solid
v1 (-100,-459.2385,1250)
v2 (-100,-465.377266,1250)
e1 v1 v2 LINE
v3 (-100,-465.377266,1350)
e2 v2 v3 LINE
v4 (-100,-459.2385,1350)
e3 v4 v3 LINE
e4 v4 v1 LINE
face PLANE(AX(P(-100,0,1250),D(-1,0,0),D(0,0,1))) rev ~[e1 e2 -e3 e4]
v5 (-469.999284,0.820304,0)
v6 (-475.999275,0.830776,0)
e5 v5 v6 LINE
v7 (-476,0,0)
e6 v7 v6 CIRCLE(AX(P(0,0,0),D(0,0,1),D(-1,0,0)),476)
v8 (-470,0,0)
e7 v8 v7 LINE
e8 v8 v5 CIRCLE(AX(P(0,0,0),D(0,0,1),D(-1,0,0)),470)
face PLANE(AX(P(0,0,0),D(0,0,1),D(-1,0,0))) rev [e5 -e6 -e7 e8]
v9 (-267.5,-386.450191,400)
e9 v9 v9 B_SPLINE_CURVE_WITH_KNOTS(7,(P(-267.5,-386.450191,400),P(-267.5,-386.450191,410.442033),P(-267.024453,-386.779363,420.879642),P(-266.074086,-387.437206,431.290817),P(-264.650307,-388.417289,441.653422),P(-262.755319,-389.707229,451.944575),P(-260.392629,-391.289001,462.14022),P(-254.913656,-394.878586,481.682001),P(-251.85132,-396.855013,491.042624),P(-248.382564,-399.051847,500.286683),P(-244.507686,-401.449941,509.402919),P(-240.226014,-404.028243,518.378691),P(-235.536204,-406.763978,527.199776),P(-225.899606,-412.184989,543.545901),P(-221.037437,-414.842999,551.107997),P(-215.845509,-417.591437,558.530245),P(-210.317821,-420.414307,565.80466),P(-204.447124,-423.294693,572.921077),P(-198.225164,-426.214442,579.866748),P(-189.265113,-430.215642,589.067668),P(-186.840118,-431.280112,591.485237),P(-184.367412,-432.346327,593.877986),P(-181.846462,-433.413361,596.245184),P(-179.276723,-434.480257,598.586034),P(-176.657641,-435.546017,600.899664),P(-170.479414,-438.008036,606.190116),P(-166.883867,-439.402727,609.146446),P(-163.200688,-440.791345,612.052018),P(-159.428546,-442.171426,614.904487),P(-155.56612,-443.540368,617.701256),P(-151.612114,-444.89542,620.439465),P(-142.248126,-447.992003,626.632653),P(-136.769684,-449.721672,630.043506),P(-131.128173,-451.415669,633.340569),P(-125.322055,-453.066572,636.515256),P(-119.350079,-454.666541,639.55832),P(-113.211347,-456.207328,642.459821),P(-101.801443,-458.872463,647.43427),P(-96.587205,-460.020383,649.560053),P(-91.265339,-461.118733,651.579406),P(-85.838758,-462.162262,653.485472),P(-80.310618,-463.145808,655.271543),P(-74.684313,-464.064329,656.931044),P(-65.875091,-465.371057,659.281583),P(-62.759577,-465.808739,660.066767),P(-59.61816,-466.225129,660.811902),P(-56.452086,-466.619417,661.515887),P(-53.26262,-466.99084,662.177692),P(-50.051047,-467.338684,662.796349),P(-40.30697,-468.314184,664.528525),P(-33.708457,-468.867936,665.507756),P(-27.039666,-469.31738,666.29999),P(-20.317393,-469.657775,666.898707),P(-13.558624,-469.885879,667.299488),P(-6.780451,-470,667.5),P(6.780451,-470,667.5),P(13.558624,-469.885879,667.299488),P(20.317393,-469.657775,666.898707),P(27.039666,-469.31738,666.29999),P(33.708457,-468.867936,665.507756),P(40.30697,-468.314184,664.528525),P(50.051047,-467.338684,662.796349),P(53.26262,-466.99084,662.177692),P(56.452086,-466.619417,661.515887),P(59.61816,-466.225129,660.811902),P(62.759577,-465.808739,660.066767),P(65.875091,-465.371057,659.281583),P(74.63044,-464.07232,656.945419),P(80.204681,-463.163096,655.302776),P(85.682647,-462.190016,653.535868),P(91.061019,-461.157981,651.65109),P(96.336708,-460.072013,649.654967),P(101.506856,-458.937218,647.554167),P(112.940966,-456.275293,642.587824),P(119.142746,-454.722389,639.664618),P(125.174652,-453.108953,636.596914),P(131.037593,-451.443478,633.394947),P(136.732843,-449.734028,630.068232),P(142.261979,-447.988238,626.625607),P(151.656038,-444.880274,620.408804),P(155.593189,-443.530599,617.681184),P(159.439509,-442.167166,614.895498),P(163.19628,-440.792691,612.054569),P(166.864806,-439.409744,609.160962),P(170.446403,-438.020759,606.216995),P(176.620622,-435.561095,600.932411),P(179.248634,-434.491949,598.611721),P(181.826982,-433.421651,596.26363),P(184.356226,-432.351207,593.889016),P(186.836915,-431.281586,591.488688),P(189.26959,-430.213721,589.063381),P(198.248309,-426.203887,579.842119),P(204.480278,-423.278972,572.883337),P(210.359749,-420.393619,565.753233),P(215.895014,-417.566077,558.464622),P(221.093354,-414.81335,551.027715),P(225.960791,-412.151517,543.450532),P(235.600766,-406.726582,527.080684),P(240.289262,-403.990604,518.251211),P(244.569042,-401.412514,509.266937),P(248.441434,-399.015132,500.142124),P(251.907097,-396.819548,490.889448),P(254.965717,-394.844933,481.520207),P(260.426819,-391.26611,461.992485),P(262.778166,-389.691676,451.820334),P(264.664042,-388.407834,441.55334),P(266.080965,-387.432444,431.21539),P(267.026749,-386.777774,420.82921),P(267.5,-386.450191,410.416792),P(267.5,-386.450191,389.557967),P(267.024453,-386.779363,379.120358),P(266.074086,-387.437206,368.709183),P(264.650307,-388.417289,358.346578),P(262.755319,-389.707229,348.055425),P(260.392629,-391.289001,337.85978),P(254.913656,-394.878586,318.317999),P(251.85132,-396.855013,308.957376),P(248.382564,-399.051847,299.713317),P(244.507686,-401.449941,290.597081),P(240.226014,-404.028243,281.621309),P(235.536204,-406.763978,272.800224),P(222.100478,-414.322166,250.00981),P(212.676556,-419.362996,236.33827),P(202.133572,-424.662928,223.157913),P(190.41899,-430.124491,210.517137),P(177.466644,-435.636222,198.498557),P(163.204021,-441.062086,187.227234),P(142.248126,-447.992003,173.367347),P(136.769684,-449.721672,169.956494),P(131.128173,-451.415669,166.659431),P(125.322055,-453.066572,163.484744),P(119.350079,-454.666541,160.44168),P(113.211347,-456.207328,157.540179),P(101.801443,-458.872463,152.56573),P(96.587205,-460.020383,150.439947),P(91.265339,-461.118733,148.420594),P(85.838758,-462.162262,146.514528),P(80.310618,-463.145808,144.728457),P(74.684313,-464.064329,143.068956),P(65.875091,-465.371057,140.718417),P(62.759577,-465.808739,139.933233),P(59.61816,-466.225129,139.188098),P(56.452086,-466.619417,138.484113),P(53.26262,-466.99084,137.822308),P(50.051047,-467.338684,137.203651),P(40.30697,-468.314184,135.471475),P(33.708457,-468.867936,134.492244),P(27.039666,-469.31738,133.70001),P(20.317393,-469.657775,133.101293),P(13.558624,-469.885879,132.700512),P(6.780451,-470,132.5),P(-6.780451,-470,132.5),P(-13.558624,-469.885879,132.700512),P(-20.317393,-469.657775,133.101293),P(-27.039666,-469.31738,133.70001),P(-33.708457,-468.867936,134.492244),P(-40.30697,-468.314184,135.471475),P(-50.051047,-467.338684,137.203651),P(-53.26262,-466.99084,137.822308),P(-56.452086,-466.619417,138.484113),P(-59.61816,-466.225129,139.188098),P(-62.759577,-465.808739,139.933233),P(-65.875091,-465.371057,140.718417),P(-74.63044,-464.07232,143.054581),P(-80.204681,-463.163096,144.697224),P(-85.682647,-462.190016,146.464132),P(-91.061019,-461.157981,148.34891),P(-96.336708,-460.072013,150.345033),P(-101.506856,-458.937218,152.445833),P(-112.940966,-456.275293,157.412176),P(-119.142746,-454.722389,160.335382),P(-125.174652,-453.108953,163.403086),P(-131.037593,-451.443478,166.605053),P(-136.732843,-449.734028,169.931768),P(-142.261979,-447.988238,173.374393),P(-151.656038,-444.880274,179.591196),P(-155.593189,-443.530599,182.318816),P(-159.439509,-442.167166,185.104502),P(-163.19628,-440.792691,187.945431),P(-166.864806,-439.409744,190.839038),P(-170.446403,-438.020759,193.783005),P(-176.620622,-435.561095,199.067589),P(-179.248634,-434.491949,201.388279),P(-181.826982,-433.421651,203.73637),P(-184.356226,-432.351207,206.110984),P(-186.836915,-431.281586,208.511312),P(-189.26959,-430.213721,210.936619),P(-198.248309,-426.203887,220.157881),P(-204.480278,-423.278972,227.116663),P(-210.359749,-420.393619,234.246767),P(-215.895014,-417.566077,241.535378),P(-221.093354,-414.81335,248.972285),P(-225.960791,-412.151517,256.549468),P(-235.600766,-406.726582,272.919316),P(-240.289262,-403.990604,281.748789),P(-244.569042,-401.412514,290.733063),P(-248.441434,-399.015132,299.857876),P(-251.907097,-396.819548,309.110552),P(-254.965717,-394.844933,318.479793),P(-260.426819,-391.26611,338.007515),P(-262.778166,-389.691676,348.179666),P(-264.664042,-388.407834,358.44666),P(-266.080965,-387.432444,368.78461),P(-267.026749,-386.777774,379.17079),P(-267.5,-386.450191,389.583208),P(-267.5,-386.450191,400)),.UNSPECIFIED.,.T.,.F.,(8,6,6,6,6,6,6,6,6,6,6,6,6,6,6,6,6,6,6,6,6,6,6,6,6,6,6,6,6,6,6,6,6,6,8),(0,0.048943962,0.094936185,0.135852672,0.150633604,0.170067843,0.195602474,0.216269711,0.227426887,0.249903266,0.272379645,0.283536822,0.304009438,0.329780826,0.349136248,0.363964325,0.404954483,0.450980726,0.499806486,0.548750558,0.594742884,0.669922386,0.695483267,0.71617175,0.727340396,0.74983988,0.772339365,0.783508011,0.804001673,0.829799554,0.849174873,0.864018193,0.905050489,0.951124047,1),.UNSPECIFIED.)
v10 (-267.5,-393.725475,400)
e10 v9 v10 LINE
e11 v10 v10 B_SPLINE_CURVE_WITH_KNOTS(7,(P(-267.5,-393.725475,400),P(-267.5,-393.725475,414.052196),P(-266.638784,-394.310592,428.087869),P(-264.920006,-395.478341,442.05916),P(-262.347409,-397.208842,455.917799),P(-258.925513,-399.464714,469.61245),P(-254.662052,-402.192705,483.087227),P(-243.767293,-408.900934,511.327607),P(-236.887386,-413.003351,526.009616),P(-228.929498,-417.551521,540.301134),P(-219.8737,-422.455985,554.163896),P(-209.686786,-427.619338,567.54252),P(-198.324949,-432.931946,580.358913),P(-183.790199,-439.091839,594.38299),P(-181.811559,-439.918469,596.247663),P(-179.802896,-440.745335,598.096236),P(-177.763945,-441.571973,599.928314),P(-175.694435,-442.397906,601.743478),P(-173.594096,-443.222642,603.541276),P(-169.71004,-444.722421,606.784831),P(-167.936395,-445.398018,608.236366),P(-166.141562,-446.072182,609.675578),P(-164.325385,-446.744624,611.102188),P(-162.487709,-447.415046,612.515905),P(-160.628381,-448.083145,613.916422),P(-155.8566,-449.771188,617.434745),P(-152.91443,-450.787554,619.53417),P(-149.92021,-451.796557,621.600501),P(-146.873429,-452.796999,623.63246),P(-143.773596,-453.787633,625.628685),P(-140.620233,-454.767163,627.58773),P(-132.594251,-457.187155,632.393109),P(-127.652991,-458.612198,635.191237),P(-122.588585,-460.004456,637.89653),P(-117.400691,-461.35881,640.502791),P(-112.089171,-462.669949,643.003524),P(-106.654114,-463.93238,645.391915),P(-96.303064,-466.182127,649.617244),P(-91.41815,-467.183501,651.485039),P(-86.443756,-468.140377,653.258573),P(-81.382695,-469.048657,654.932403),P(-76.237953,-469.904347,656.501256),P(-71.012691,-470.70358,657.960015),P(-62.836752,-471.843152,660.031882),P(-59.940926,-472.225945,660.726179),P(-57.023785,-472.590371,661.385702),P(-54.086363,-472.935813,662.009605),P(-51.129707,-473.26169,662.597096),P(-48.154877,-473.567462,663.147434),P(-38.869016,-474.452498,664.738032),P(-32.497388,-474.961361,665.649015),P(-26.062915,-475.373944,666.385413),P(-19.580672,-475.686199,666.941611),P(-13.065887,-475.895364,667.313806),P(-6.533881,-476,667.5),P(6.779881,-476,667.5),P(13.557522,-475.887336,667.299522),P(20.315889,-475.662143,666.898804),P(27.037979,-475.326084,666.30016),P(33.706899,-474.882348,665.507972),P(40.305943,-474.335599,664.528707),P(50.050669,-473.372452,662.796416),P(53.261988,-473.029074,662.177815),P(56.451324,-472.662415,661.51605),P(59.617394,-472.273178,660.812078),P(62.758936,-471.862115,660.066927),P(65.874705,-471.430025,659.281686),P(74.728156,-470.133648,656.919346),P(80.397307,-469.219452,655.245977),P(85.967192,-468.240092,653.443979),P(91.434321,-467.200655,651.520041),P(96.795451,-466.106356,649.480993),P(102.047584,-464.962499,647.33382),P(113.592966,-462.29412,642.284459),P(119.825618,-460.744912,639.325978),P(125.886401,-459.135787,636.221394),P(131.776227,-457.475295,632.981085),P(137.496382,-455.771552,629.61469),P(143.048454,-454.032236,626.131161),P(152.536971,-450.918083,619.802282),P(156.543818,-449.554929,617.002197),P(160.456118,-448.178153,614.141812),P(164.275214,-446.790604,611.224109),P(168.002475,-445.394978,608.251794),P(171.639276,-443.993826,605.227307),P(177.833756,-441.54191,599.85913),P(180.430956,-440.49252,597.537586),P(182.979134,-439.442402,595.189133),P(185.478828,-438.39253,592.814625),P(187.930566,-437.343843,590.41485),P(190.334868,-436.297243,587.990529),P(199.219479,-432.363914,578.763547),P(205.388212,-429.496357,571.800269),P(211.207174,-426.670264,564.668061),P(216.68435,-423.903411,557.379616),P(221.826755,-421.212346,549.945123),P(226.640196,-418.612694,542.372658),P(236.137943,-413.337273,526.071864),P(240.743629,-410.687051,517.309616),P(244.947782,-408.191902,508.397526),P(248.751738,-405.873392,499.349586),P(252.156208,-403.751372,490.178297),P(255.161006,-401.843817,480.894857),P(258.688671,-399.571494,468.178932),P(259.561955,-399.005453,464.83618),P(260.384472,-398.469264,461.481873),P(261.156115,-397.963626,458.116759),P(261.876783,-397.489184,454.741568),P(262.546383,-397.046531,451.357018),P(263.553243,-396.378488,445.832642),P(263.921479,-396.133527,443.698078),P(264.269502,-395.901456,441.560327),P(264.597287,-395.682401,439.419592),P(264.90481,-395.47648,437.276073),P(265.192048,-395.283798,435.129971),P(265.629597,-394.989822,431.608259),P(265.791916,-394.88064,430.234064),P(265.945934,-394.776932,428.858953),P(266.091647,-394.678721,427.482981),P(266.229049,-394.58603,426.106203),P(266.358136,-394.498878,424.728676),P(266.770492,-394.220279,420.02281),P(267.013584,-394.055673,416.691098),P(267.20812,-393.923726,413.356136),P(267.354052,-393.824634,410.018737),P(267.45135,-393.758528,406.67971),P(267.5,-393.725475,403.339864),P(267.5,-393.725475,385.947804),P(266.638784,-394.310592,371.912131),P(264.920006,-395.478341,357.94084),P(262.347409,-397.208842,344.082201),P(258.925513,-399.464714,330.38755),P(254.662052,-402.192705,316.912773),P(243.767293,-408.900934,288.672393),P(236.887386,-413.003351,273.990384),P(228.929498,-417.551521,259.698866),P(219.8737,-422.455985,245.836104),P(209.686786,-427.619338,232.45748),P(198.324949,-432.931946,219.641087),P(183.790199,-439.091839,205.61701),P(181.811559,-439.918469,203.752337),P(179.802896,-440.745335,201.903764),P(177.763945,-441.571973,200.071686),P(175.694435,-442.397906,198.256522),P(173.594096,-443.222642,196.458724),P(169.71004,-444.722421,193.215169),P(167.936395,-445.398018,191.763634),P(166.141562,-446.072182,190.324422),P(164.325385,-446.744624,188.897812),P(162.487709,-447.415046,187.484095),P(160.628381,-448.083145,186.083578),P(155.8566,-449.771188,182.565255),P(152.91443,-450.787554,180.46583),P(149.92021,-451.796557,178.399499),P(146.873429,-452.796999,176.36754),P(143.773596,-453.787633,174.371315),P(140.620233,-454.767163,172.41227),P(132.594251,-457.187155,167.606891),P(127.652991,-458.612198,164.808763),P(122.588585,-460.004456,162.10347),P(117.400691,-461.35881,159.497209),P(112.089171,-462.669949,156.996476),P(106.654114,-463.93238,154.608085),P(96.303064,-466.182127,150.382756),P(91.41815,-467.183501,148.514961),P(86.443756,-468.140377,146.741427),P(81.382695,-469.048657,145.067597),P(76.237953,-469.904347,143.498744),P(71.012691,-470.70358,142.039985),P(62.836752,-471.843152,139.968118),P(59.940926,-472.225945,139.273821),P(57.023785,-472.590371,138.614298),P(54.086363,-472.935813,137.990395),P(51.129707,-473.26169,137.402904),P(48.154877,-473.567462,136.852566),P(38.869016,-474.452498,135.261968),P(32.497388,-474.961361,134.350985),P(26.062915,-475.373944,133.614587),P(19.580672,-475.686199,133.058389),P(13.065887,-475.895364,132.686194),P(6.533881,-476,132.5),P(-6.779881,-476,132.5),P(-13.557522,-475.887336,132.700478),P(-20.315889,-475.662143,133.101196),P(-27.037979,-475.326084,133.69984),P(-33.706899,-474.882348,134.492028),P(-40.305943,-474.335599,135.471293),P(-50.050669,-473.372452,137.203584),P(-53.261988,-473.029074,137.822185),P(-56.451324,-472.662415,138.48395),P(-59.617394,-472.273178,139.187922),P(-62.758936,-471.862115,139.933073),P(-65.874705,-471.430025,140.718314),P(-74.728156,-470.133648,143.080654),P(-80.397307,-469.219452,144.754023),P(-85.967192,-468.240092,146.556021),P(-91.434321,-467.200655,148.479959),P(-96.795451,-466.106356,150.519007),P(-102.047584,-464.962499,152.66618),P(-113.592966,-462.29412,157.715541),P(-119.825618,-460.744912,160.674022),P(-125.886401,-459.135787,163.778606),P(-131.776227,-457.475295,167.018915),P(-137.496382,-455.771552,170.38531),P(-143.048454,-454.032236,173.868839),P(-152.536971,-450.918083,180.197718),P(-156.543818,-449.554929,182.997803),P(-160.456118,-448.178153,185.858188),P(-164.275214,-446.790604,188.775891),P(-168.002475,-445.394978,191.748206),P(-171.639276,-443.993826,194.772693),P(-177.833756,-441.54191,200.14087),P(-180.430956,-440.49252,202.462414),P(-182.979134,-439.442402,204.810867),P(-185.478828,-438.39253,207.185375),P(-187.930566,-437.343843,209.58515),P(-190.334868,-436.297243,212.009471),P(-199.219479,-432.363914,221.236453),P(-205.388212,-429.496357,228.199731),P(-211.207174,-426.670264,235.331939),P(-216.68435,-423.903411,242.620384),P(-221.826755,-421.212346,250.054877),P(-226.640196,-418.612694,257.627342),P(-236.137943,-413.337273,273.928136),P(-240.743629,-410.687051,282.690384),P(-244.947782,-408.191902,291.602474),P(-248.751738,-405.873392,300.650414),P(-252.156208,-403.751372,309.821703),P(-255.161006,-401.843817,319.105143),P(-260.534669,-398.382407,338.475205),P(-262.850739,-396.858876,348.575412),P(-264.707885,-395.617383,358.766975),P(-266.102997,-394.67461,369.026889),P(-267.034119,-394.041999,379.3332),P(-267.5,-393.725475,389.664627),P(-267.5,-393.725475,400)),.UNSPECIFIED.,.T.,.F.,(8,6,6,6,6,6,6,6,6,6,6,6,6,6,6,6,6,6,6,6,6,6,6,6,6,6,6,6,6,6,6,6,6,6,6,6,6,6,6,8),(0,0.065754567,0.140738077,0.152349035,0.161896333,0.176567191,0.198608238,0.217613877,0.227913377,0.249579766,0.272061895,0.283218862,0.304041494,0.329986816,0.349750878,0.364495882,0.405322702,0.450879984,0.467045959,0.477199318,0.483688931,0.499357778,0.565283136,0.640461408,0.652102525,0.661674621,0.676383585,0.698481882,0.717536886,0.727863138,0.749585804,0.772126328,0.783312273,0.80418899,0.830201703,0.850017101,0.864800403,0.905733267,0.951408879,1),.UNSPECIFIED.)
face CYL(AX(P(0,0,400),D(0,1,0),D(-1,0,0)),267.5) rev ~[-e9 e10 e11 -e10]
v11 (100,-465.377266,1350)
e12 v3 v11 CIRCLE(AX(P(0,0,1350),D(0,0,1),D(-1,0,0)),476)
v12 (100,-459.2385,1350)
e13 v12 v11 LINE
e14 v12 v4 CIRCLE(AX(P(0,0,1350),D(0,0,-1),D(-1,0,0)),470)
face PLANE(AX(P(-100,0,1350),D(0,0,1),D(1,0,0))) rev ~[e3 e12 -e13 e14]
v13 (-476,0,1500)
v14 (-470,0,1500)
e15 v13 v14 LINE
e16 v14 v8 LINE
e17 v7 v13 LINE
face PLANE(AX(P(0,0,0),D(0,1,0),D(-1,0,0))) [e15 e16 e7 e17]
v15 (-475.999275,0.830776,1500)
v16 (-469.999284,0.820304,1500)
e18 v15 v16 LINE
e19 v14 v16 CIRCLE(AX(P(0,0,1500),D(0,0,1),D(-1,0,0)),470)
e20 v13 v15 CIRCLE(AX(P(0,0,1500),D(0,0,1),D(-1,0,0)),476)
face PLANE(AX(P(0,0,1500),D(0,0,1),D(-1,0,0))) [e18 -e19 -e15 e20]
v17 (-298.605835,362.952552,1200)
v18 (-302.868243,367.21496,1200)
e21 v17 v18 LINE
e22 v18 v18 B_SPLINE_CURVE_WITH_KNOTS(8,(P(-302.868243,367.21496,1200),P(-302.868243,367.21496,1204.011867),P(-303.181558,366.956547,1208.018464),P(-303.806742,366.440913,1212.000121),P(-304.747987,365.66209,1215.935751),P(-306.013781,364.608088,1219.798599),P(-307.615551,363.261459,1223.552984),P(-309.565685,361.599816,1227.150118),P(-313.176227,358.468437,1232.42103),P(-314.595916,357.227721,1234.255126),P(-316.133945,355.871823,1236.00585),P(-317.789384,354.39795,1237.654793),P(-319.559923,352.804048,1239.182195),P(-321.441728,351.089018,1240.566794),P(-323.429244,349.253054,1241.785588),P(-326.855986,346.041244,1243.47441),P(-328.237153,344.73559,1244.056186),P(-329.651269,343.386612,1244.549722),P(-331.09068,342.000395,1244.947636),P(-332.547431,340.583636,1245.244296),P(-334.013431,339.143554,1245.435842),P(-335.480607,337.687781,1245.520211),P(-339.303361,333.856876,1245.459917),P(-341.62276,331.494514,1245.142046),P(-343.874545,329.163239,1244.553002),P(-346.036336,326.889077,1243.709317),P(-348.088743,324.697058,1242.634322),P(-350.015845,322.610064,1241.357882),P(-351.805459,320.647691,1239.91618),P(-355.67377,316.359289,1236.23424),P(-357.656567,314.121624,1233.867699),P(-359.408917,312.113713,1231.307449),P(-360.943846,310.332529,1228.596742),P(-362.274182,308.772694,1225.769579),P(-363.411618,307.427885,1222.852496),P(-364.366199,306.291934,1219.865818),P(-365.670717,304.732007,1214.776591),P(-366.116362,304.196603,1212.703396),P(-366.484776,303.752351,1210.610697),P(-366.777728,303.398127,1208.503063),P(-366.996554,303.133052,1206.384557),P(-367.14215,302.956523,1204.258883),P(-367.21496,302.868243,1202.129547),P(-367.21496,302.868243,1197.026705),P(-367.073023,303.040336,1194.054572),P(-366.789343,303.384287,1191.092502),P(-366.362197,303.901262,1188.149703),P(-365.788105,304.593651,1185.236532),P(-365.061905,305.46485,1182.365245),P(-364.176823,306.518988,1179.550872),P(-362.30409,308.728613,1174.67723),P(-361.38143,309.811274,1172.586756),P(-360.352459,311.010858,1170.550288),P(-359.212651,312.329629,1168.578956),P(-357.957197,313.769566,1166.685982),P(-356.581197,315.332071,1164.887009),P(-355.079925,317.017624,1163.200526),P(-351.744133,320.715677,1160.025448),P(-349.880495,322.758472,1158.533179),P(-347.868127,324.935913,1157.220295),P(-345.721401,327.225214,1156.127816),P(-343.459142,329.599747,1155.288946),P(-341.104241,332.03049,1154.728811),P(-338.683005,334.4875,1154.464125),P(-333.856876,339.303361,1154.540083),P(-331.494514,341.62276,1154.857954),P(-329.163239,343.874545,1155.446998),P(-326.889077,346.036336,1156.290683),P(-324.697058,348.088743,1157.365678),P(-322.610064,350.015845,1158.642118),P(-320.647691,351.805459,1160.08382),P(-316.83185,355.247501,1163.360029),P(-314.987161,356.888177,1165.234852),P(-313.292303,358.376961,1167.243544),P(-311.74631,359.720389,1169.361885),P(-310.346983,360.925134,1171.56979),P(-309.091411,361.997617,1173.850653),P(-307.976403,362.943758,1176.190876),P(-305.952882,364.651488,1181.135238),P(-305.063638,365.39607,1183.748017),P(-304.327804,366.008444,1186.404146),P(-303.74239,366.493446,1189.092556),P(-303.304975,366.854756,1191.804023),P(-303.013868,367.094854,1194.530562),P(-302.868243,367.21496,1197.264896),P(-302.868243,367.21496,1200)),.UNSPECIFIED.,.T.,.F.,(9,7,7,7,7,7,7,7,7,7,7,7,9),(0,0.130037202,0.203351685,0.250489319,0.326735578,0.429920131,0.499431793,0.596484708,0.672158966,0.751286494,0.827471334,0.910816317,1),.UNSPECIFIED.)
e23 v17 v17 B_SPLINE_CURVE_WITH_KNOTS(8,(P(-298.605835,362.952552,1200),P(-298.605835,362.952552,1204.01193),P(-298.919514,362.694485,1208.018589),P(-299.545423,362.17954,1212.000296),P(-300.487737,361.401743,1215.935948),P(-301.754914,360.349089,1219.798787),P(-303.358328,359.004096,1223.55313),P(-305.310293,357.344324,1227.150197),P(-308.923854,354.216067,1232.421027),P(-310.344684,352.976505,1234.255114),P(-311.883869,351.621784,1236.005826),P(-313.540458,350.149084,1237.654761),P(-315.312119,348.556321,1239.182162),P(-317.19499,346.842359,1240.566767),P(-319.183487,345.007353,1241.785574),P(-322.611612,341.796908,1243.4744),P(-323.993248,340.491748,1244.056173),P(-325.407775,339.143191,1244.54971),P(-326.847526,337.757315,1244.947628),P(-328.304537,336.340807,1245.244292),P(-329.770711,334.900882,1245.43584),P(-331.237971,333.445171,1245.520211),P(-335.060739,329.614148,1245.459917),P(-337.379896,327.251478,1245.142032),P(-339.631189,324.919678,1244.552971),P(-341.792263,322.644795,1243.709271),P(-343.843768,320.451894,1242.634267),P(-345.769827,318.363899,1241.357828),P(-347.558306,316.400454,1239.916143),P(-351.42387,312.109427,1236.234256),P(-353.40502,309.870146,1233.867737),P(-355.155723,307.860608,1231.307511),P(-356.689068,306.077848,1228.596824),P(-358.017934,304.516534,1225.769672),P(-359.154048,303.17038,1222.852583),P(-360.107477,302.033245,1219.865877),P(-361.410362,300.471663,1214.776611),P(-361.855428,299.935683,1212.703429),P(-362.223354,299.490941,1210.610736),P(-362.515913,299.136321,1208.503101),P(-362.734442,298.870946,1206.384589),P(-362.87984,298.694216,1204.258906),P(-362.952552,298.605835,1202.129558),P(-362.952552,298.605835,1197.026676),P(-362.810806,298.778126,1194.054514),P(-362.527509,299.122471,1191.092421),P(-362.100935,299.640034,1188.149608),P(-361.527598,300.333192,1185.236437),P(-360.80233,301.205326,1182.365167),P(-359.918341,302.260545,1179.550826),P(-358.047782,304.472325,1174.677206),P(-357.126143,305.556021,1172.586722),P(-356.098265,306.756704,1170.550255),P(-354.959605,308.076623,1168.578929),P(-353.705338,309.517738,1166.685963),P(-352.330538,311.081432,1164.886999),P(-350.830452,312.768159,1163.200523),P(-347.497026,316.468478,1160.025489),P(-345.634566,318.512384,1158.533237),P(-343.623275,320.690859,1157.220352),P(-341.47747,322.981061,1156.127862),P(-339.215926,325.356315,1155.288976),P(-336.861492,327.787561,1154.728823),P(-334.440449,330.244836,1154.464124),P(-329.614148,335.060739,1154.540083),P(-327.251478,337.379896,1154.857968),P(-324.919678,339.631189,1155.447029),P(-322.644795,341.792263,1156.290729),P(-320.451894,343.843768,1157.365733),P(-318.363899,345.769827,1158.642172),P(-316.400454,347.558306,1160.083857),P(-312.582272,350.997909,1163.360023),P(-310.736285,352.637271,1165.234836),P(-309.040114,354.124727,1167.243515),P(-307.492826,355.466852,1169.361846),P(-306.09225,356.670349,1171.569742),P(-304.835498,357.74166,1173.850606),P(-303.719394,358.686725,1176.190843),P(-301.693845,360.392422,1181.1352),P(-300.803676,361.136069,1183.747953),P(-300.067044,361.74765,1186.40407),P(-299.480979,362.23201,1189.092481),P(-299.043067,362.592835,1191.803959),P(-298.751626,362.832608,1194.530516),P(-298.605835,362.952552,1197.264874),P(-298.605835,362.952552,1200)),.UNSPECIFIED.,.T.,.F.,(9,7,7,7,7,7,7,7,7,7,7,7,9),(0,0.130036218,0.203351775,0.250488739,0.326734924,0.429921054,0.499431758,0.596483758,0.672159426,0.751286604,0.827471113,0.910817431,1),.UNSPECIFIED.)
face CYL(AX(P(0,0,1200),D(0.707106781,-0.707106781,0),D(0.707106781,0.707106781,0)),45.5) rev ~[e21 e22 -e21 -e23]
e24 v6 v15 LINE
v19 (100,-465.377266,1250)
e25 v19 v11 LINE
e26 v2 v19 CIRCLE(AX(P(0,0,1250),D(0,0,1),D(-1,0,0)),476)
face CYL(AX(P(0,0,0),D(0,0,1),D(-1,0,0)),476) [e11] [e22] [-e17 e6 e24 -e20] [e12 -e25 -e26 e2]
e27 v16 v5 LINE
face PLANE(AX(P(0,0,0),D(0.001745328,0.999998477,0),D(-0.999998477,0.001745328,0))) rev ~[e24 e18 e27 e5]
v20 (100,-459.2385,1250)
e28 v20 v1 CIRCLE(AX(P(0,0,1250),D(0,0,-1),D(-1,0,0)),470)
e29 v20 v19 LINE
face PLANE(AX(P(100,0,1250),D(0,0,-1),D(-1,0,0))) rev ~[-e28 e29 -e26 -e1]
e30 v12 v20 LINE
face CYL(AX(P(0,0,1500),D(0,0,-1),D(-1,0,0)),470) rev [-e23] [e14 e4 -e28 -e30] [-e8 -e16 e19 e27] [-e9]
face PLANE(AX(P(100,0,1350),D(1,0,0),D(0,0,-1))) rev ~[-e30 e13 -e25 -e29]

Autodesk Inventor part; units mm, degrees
sketch "Sketch1" plane through (0, 0, 0) normal (0, 1, 0) x (-1, 0, 0)
  line L0 (476, 1500) -> (470, 1500)
  line L1 (470, 1500) -> (470, 0)
  line L2 (470, 0) -> (476, 0)
  line L3 (476, 0) -> (476, 1500)
  line L4 (0, 0) -> (0, 1673.0415)
  point P0 (473, 0)
  dimension "d0" = 6
  dimension "d1" = 1500
  dimension "d2" = 940
revolve "Revolution1" add sketch "Sketch1" angle 359.9 about axis through (0, 0, 0) along (0, 0, 1)
sketch "Sketch2" plane through (0, 0, 0) normal (0, 1, 0) x (-1, 0, 0)
  circle A0 centre (0, 400) radius 267.5
  line L0 (470, 1500) -> (-470, 1500) projected
  line L1 (110, 1300) -> (-110, 1300) construction
  line L2 (110, 1390) -> (-110, 1390)
  line L3 (-110, 1210) -> (110, 1210)
  arc A1 (110, 1210) -> (110, 1390) centre (110, 1300) ccw
  arc A2 (-110, 1390) -> (-110, 1210) centre (-110, 1300) ccw
  line L4 (200, 1300) -> (-200, 1300) construction
  point P0 (0, 0)
  point P1 (469.9993, 1500)
  point P2 (0, 1300)
  dimension "d4" = 535
  dimension "d12" = 400
  dimension "d15" = 200
  dimension "d16" = 400
  dimension "d17" = 180
extrude "Extrusion1" cut sketch "Sketch2" against normal through all contours A0
sketch "floor angle sketch" plane through (0, 0, 0) normal (0, 0, 1) x (1, 0, 0)
  line L0 (0, 0) -> (0, -267.717)
  line L1 (0, -267.717) -> (0, 0)
  line L2 (0, 0) -> (0, -172)
  line L3 (0, 0) -> (-63.6396, 63.6396)
  line L4 (0, 0) -> (23.2937, -86.9333)
  dimension "Feeder_way_angle" = 0
  dimension "Feeder_way_line" = 172
  dimension "Outer_way_line" = 90
  dimension "Inner_way_line" = 90
  dimension "Outer_way_angle" = 345
  dimension "Inner_way_angle" = 135
ref_plane "Feeder Plane" through (0, 0, -10) normal (1, 0, 0) x (0, 0, 1)
sketch "Feeder horisont hight angle" plane through (0, 0, -10) normal (1, 0, 0) x (0, 0, 1)
  line L0 (1510, -470) -> (1510, 470) construction
  line L1 (10, 0) -> (1510, 0) construction
  line L2 (1310, 0) -> (1310, 476)
  line L3 (10, 476) -> (1510, 476) construction
  line L4 (1310, 476) -> (1310, 0) construction
  point P0 (1510, 0)
  point P1 (1510, -0.8203)
  dimension "d34" = 1300
  dimension "d35" = 0
ref_plane "Feeder Work Plane" through (0, 0, 1300) normal (0, -1, 0) x (1, 0, 0)
sketch "Sketch8" plane through (0, 0, 1300) normal (0, -1, 0) x (1, 0, 0)
  circle A0 centre (0, 0) radius 86 construction
  line L0 (-100, 50) -> (100, 50)
  line L1 (100, 50) -> (100, -50)
  line L2 (100, -50) -> (-100, -50)
  line L3 (-100, -50) -> (-100, 50)
  line L4 (-100, 50) -> (100, -50) construction
  line L5 (100, 50) -> (-100, -50) construction
  arc A1 (-100, -50) -> (100, -50) centre (0, 409.2385) ccw construction
  arc A2 (-100, 50) -> (100, 50) centre (0, 509.2385) ccw construction
  point P0 (0, -1300)
  point P1 (0, 0)
  dimension "d36" = 172
  dimension "d50" = 200
  dimension "d51" = 100
  dimension "d52" = 470
extrude "Feeder Extrusion" cut sketch "Sketch8" along normal through all
ref_plane "Inner Plane" through (0, 0, 0) normal (0.7071, 0.7071, 0) x (-0.7071, 0.7071, 0)
sketch "Inner horisont hight angle" plane through (0, 0, 0) normal (0.7071, 0.7071, 0) x (-0.7071, 0.7071, 0)
  line L0 (476, 1500) -> (-476, 1500) construction
  line L1 (476, 0) -> (476, 1500) construction
  line L2 (0, 0) -> (0, 1500) construction
  line L3 (0, 1200) -> (476, 1200) construction
  line L4 (476, 1200) -> (0, 1200)
  point P0 (336.5828, 1500)
  point P1 (337.1698, 1500)
  dimension "d40" = 0
  dimension "d41" = 1200
ref_plane "Inner Work Plane" through (0, 0, 1200) normal (0.7071, -0.7071, 0) x (0.7071, 0.7071, 0)
sketch "Sketch10" plane through (0, 0, 1200) normal (0.7071, -0.7071, 0) x (0.7071, 0.7071, 0)
  circle A0 centre (0, 0) radius 45.5
  point P0 (0, -1200)
  point P1 (0, 0)
  point P2 (0, 0)
  point P3 (0, 0)
  dimension "d42" = 91
extrude "Inner Extrusion" cut sketch "Sketch10" against normal through all
ref_plane "Outer Plane" through (0, 0, 0) normal (-0.9659, -0.2588, 0) x (0.2588, -0.9659, 0)
sketch "Sketch11" plane through (0, 0, 0) normal (-0.9659, -0.2588, 0) x (0.2588, -0.9659, 0)
  line L0 (0, 0) -> (0, 1500)
  line L1 (476, 1500) -> (-476, 1500) projected
  line L2 (0, 700) -> (476, 700)
  line L3 (476, 0) -> (476, 1500) projected
  line L4 (476, 700) -> (0, 700)
  point P0 (-123.1979, 1500)
  point P1 (-124.0001, 1500)
  dimension "d45" = 0
  dimension "d46" = 700
ref_plane "Work Plane9" through (0, 0, 700) normal (-0.2588, 0.9659, 0) x (-0.9659, -0.2588, 0)
sketch "Sketch12" plane through (0, 0, 700) normal (-0.2588, 0.9659, 0) x (-0.9659, -0.2588, 0)
  circle A0 centre (0, 0) radius 46
  point P0 (0, -700)
  point P1 (0, 0)
  point P2 (0, 0)
  point P3 (0, 0)
  dimension "d47" = 92
extrude "Extrusion6" [suppressed]
equation "\"d2\" = MAIN_filter_diam"
equation "\"d4\" = Accsess_hatch_diameter"
equation "\"d16\" = Charging_hatch_width"
equation "\"d17\" = Charging_hatch_hight"
equation "\"d34\" = Feedr_hight"
equation "\"BendRadius\" = Thickness"
equation "\"BendReliefWidth\" = Thickness"
equation "\"BendReliefDepth\" = 0.5 * Thickness"
equation "\"CornerReliefSize\" = 4 * Thickness"
equation "\"MinimumRemnant\" = 2 * Thickness"
equation "\"TransitionRadius\" = BendRadius"
equation "\"JacobiRadiusSize\" = BendRadius"
equation "\"GapSize\" = Thickness"
equation "\"Feedr_hight\" = 1300"
equation "\"Feeder_horisont_hight_angle\" = 0"
equation "\"MAIN_filter_diam\" = 940"
equation "\"Accsess_hatch_diameter\" = 535"
equation "\"Charging_hatch_width\" = 400"
equation "\"Charging_hatch_hight\" = 180"
equation "\"Thickness\" = 6"
properties part number "SLM 701 main shell D1200" material "Steel"
